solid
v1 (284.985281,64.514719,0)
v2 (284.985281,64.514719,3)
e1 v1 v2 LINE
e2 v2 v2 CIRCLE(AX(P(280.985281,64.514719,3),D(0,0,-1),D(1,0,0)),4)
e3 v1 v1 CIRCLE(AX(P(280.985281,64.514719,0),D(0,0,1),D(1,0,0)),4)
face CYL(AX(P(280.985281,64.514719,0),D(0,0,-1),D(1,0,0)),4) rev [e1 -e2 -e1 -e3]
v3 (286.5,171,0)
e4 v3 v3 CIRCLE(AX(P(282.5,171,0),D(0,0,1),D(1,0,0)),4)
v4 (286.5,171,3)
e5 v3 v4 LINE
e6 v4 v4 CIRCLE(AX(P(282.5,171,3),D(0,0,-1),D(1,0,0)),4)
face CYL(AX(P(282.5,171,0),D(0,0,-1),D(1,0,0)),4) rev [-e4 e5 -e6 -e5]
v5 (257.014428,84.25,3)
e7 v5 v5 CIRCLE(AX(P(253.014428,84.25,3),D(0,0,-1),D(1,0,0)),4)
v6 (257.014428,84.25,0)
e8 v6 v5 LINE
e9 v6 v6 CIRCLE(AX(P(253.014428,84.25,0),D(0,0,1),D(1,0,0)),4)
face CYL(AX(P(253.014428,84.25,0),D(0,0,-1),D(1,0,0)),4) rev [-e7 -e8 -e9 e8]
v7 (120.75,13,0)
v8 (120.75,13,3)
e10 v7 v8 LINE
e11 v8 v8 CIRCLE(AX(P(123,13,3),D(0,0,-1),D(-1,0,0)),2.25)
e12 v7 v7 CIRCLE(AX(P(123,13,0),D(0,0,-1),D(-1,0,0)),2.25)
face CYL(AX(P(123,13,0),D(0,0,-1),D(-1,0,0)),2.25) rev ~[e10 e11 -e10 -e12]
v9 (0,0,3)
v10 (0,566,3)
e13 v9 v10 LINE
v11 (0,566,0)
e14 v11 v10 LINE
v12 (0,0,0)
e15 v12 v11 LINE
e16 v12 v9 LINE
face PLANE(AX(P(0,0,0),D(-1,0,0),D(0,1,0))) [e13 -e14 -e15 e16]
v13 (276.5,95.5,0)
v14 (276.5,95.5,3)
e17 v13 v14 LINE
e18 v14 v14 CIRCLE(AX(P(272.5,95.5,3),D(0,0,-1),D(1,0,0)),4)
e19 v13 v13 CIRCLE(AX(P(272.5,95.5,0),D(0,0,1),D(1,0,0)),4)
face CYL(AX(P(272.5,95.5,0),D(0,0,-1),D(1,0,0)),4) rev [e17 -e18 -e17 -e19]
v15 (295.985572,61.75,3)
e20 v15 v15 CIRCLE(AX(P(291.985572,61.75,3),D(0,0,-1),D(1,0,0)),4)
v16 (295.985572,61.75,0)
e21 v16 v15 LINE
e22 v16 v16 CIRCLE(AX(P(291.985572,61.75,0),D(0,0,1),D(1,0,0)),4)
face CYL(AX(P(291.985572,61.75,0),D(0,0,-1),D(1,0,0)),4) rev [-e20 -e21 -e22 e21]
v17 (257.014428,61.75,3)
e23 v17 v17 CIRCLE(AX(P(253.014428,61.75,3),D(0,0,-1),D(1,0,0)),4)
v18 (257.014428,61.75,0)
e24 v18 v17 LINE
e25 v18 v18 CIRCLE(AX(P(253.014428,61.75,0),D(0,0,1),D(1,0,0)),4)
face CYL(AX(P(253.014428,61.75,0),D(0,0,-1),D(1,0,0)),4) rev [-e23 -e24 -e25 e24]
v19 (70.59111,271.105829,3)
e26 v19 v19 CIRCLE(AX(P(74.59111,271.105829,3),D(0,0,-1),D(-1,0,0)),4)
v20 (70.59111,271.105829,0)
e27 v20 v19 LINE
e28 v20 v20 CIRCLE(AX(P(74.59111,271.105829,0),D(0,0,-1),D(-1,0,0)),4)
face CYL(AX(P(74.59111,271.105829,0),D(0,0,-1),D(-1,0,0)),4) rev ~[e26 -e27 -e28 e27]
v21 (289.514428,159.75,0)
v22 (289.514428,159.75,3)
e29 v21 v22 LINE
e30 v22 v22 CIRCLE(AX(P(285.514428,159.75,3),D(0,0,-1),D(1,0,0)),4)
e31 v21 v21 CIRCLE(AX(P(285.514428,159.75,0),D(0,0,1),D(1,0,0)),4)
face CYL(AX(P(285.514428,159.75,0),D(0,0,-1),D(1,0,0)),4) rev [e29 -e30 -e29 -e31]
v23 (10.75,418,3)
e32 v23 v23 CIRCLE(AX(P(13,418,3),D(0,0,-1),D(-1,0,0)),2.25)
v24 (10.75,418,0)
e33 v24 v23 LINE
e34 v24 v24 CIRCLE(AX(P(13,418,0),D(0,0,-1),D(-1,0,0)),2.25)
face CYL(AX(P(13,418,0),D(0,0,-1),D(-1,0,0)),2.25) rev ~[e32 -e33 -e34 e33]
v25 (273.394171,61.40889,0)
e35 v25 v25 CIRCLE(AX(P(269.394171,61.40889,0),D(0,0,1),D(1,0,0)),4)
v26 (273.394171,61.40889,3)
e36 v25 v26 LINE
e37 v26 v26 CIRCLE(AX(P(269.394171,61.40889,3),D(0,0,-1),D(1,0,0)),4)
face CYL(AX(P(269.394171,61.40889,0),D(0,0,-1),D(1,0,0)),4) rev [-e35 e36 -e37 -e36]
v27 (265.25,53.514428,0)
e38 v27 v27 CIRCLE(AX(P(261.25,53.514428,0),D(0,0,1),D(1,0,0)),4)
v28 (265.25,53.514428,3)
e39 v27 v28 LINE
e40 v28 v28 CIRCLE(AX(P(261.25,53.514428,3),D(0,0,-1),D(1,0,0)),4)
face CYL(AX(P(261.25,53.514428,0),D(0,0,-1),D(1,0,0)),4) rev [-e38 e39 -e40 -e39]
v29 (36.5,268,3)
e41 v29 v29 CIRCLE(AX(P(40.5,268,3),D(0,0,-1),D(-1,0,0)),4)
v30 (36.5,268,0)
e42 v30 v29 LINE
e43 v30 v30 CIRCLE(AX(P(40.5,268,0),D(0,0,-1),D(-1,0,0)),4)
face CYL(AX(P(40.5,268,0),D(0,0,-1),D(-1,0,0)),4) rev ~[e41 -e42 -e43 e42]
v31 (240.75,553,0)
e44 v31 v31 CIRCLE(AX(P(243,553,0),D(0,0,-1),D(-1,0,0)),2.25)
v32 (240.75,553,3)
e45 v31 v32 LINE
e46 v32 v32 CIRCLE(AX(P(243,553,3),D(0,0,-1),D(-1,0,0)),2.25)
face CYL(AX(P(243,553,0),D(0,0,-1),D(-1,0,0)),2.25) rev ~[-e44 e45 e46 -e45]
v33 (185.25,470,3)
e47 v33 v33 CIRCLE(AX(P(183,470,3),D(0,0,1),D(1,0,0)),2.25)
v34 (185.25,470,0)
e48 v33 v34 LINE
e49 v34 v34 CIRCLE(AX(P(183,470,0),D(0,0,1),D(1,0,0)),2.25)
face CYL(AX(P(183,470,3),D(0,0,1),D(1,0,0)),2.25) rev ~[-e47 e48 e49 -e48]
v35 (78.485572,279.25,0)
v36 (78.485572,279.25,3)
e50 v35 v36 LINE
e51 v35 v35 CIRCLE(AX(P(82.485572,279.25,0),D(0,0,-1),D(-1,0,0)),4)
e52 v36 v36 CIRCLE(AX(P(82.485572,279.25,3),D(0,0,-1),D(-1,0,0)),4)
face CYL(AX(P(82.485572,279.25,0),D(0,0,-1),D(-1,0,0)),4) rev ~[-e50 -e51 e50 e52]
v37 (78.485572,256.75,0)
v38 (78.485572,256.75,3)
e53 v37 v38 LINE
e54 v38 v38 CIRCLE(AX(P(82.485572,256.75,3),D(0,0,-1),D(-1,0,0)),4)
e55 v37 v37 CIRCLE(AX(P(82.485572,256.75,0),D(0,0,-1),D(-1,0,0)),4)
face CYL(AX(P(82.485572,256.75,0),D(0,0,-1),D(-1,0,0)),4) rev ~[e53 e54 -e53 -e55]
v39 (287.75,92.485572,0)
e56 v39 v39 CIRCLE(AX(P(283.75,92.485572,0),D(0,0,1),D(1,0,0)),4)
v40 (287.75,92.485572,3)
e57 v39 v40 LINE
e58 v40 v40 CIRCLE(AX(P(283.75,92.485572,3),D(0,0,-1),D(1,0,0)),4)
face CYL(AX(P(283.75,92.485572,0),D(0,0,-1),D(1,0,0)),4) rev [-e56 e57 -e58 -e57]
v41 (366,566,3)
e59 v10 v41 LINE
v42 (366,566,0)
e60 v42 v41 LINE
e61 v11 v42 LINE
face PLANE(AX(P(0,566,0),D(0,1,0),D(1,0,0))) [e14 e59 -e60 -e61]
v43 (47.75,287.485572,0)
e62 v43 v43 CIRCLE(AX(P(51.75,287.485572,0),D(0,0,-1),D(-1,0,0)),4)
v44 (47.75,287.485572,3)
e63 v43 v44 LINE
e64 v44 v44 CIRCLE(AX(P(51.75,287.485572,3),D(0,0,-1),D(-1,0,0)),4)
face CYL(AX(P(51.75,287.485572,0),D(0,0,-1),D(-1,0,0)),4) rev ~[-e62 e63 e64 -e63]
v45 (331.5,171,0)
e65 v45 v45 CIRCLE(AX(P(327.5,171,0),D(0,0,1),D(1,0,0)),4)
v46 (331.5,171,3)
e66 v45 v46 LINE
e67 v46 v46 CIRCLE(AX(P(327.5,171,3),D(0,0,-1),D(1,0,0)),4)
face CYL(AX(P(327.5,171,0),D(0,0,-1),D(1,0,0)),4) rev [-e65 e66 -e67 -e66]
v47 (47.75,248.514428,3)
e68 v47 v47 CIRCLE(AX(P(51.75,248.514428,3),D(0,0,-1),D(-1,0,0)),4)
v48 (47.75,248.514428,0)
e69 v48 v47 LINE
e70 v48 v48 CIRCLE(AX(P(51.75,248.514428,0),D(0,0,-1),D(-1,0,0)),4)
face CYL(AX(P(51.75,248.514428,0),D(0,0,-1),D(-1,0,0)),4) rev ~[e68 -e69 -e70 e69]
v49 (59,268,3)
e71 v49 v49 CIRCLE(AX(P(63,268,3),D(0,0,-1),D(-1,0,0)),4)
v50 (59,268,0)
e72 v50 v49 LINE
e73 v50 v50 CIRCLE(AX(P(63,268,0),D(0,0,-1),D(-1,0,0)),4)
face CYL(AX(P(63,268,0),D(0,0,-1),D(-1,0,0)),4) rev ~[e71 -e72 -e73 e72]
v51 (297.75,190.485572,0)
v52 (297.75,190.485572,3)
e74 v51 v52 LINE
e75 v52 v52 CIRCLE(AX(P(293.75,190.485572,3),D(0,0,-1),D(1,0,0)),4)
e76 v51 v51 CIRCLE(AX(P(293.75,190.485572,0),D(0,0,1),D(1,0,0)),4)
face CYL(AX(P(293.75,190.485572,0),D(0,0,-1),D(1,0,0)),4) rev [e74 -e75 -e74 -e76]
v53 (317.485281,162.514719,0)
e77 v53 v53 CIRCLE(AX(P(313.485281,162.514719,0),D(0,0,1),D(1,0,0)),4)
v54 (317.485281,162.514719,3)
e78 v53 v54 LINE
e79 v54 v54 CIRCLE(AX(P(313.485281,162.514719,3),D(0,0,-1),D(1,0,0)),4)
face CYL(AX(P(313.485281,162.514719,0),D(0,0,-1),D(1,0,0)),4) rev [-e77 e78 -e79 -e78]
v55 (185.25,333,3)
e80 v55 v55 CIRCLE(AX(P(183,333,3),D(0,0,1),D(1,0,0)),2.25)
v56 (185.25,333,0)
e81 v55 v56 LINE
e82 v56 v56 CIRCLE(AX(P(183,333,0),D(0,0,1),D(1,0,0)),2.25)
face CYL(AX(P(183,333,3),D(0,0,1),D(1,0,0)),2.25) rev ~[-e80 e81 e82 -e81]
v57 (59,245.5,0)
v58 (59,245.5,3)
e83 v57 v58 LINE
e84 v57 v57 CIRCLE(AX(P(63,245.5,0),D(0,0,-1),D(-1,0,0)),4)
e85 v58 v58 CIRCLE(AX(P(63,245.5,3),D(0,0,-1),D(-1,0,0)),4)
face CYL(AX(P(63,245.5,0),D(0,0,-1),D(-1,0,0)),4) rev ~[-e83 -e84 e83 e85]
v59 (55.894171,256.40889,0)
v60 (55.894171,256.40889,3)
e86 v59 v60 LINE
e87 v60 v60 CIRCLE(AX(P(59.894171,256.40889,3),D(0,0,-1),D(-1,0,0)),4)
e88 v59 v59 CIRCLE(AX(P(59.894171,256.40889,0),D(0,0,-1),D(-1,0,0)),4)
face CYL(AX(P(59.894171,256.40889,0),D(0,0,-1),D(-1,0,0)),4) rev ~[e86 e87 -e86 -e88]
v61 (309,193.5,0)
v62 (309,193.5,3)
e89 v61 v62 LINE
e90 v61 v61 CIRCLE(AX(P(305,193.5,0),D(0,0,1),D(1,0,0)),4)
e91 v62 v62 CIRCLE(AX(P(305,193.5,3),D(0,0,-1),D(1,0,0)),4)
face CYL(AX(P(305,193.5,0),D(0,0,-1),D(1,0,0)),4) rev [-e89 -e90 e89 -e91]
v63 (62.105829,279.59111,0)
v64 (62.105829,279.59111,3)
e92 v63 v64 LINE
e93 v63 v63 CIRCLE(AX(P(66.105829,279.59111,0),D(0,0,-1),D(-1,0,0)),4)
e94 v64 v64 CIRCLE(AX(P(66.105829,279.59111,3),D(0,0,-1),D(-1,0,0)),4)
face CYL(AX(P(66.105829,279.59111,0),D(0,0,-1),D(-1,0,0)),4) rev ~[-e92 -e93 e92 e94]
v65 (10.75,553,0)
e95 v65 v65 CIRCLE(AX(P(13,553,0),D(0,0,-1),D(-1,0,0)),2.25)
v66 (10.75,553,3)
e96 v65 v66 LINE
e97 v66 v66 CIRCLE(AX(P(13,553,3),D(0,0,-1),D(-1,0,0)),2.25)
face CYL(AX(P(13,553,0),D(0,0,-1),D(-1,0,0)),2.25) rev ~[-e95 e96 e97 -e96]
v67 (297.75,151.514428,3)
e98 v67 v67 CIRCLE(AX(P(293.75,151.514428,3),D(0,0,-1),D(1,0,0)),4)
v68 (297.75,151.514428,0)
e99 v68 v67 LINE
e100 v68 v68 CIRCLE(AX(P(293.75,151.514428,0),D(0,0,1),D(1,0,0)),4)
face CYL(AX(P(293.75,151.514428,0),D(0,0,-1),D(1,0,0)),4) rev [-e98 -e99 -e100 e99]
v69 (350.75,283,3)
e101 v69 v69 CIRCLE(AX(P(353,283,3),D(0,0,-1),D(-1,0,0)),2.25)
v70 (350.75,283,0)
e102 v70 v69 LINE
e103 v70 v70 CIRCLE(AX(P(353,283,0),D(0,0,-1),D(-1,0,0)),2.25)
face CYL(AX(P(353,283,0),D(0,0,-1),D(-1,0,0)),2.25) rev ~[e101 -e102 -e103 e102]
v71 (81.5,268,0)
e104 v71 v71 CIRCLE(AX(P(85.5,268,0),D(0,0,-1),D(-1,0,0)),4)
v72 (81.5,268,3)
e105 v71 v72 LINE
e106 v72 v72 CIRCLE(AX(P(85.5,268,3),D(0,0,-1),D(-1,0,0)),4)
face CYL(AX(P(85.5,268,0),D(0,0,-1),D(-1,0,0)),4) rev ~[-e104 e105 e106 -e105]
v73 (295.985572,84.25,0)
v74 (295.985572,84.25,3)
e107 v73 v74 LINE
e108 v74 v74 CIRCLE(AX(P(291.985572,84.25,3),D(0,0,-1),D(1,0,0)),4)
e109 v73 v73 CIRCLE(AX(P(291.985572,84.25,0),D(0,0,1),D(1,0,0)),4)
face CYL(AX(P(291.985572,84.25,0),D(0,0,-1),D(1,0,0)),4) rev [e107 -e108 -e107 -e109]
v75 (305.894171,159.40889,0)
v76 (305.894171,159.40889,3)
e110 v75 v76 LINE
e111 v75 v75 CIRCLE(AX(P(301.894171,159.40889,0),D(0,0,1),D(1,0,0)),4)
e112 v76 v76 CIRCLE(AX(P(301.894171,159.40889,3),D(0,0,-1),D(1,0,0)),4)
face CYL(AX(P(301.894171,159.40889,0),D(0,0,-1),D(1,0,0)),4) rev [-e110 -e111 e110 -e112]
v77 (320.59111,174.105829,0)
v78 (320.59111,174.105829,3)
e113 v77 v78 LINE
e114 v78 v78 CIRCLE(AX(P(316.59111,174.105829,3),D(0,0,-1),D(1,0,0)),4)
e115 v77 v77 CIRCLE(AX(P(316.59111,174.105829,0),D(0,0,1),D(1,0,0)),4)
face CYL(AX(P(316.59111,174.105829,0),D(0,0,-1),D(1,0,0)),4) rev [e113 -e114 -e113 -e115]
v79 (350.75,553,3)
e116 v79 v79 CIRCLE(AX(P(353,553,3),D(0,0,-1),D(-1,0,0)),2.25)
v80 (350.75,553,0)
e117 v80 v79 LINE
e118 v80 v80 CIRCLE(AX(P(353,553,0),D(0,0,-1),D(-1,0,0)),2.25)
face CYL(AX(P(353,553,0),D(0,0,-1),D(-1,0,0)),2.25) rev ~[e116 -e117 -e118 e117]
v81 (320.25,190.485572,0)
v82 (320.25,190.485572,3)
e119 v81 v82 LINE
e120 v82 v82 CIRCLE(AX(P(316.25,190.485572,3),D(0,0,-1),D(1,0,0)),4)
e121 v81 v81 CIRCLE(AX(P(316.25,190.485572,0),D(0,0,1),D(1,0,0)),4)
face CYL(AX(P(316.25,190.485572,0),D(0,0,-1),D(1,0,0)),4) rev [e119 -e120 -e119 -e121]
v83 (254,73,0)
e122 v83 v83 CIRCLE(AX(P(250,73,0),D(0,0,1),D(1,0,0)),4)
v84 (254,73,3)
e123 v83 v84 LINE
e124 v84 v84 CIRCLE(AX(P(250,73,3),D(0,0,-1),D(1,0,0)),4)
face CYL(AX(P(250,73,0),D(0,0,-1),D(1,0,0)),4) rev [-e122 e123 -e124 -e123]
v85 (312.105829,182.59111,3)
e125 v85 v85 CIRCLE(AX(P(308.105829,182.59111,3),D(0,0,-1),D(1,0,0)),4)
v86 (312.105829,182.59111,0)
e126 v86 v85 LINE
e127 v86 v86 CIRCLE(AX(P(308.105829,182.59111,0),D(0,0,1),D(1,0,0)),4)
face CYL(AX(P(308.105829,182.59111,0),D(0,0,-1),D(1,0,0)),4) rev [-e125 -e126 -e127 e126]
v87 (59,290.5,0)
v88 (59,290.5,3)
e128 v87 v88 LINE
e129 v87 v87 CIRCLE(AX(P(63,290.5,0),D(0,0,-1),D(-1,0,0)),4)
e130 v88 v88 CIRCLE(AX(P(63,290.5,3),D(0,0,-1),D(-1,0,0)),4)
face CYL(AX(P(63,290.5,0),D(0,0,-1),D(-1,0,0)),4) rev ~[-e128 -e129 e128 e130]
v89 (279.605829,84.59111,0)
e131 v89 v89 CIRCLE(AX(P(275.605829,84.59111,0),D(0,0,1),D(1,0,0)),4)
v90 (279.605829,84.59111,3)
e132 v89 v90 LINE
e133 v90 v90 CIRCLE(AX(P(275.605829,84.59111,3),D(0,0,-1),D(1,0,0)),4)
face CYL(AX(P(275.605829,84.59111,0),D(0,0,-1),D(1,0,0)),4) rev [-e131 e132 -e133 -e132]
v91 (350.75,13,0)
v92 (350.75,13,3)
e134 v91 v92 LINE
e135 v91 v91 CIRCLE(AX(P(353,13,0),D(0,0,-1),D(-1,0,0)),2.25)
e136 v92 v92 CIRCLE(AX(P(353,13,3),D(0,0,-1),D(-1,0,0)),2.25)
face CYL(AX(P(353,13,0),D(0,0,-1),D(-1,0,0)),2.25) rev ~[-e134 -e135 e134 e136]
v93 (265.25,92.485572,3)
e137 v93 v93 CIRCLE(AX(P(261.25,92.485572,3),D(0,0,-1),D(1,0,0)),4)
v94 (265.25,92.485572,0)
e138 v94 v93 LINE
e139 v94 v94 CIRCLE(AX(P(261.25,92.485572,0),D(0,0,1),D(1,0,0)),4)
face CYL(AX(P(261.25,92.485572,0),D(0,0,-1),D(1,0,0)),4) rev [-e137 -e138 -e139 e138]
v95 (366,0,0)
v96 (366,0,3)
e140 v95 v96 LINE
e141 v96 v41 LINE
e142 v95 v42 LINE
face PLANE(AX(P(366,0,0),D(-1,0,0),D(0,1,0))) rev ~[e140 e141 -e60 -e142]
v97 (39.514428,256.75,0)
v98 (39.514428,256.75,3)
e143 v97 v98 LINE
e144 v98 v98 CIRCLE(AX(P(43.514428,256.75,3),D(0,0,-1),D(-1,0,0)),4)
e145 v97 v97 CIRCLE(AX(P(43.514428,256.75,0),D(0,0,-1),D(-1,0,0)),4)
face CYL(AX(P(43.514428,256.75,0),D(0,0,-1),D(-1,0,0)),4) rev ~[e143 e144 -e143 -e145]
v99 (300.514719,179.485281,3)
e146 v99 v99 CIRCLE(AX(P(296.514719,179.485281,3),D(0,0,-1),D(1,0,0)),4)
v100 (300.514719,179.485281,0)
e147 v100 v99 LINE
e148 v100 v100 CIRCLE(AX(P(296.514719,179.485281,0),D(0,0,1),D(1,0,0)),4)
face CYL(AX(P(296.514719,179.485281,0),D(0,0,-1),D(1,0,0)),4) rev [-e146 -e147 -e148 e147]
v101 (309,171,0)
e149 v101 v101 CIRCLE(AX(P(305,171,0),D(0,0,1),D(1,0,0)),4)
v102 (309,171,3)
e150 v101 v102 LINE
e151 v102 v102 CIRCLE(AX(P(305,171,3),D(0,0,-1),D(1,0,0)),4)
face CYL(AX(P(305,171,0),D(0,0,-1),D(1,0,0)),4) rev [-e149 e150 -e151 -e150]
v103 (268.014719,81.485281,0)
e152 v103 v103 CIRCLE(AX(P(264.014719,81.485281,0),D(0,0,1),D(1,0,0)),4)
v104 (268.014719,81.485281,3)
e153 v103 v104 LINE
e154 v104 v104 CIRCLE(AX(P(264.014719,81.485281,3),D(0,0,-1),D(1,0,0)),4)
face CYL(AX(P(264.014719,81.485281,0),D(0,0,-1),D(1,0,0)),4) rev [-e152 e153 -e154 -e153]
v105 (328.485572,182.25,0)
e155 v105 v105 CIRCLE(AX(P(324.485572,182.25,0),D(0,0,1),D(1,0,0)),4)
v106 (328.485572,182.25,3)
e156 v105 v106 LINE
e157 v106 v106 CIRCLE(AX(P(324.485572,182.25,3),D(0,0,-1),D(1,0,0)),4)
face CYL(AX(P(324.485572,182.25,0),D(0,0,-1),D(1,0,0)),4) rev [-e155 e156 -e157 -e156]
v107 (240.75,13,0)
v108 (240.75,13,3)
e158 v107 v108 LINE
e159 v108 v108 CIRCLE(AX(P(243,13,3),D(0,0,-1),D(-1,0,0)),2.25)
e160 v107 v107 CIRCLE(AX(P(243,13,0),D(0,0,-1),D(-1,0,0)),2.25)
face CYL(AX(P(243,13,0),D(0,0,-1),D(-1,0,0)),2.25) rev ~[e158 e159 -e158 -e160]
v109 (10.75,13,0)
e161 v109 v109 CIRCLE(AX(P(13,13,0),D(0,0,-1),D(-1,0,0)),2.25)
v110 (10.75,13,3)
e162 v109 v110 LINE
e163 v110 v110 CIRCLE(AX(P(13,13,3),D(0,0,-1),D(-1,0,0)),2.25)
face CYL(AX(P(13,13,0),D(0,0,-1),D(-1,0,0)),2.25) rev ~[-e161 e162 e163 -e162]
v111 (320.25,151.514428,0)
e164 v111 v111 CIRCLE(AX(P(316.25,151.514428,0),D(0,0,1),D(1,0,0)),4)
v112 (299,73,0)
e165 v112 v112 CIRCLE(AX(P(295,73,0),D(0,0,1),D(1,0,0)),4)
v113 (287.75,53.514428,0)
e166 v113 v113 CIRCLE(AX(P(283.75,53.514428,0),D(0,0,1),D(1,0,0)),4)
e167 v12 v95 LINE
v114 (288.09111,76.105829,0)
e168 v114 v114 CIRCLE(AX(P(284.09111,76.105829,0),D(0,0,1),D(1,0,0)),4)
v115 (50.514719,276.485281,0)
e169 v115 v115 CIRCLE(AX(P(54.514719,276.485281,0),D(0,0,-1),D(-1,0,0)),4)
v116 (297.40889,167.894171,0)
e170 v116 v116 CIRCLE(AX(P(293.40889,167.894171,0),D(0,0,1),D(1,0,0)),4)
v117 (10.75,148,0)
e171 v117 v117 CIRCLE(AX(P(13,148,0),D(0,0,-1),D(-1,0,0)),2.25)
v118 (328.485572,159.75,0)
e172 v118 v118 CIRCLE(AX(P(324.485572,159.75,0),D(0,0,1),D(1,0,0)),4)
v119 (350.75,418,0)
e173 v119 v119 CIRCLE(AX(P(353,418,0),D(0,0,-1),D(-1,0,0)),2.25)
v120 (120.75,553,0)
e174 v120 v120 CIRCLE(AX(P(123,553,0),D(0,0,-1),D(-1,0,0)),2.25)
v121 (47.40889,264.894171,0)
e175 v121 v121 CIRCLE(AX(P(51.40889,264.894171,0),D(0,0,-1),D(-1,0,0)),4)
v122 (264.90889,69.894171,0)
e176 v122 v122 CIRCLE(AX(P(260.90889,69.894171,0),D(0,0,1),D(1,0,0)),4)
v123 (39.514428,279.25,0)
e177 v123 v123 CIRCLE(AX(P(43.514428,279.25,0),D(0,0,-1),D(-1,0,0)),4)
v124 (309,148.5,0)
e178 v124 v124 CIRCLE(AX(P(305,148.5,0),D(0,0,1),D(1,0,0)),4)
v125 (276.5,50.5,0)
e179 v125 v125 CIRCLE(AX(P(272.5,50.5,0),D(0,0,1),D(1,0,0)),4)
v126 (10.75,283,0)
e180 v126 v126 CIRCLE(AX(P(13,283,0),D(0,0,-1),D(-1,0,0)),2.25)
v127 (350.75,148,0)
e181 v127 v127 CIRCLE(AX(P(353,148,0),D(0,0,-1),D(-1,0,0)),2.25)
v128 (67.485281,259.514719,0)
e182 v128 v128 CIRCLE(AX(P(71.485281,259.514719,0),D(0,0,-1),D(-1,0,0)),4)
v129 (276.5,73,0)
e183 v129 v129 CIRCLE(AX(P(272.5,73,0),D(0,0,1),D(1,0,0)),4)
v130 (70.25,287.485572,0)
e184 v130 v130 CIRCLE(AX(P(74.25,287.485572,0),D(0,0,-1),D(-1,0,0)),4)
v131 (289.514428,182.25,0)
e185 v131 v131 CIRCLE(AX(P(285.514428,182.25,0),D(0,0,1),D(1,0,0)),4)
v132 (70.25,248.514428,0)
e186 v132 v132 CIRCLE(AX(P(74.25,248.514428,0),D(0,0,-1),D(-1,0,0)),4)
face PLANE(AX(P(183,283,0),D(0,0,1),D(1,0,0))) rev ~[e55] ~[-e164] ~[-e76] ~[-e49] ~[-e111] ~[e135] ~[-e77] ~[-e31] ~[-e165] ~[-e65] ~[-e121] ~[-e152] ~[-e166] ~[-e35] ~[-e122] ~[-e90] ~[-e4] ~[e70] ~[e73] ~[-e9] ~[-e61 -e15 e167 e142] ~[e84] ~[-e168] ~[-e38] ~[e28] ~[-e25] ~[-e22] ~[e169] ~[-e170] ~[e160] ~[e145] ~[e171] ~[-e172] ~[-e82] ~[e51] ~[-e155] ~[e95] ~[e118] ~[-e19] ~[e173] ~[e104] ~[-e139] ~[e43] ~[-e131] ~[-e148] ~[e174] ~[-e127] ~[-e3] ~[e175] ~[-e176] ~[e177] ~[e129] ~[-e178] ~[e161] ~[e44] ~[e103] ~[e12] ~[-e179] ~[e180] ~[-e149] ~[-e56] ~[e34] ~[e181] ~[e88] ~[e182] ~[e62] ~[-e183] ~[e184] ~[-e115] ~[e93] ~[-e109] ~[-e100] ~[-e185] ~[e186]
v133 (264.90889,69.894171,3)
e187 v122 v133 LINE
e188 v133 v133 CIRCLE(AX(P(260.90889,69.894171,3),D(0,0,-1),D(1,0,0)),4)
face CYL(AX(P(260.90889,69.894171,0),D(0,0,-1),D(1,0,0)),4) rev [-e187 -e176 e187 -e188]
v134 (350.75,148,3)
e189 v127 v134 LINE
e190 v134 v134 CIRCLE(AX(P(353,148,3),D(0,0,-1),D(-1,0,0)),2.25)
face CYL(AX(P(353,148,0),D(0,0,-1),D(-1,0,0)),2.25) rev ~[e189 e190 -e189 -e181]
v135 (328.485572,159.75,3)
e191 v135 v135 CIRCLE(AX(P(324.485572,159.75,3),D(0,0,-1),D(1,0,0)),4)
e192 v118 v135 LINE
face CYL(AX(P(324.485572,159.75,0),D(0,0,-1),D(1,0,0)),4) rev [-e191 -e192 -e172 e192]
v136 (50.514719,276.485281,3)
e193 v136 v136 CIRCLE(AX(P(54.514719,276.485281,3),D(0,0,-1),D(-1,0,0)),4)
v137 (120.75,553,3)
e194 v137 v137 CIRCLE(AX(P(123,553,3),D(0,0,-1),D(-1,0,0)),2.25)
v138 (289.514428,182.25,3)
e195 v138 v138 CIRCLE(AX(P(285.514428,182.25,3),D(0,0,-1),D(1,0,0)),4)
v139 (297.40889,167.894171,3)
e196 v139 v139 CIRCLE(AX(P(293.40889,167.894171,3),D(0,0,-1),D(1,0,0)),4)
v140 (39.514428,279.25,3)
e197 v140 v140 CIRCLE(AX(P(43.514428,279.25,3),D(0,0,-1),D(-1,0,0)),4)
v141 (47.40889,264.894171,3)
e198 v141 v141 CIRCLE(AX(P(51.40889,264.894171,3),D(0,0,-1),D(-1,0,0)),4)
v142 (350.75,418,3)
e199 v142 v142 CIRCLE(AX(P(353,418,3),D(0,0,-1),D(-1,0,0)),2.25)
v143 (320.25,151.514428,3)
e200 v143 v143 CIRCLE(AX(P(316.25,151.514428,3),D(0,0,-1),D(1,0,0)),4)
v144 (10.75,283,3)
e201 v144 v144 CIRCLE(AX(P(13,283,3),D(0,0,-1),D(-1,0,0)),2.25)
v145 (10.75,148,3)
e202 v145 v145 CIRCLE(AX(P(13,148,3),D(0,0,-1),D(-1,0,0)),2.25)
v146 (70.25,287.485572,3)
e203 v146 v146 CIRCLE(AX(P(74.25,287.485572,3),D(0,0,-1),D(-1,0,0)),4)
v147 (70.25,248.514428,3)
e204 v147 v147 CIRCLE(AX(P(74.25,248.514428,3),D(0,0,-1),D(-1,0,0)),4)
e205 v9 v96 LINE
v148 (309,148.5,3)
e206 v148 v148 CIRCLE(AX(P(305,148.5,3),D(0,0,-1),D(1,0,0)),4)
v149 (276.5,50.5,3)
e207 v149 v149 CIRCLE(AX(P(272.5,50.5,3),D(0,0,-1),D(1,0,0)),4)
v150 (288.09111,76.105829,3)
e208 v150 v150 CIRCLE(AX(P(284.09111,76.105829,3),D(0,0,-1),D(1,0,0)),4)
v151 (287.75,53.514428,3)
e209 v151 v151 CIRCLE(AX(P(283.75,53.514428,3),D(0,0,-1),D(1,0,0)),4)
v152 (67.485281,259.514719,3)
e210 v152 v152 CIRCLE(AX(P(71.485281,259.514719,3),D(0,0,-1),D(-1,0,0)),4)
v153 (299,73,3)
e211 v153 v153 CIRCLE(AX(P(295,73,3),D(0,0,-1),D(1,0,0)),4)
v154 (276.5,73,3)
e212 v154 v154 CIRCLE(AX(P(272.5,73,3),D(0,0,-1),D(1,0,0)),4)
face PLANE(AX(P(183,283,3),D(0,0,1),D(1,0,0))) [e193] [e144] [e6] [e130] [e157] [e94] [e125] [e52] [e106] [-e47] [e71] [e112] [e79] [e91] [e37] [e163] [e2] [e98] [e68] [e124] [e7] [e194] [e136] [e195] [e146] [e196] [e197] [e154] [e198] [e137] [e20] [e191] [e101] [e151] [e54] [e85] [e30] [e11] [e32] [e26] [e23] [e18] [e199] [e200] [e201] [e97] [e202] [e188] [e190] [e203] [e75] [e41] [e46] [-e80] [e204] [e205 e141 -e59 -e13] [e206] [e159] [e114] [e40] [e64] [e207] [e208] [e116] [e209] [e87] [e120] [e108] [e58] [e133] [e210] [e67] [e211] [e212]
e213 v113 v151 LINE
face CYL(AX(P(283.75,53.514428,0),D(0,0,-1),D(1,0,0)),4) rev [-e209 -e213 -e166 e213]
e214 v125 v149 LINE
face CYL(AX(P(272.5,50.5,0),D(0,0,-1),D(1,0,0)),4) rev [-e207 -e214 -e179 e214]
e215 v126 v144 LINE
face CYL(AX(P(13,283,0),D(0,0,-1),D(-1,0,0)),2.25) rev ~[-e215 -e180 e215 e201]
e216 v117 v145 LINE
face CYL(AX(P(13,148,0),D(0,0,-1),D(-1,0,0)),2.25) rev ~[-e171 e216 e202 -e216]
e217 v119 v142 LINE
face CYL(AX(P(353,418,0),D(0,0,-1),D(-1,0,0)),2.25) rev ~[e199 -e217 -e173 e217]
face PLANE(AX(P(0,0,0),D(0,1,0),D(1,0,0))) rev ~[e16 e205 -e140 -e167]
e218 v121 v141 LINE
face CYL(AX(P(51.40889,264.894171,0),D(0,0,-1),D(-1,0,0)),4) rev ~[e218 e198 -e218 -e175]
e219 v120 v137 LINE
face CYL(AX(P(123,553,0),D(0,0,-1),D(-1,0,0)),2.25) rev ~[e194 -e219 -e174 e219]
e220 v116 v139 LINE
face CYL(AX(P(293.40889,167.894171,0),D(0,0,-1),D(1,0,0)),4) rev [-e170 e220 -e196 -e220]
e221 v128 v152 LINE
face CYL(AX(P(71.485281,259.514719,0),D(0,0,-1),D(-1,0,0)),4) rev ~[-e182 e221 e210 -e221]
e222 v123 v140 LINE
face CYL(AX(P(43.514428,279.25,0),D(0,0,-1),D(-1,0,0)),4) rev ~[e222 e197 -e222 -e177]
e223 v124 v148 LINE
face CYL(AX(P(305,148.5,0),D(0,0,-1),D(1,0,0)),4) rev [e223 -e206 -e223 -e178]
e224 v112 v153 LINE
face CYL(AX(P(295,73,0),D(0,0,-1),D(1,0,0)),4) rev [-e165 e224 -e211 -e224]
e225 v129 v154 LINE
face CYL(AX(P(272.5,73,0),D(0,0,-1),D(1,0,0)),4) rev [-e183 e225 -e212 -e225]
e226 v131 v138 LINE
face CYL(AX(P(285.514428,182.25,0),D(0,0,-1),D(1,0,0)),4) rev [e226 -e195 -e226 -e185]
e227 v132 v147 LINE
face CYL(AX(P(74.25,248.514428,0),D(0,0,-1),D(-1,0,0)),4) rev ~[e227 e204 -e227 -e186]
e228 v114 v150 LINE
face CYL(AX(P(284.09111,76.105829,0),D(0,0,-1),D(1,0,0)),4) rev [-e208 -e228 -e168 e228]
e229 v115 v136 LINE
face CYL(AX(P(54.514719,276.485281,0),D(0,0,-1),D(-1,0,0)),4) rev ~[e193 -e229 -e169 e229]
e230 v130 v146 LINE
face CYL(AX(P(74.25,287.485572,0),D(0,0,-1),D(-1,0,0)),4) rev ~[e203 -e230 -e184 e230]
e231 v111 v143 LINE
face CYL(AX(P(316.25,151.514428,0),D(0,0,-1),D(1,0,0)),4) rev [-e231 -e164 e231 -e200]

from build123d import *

# Parameters (mm, degrees)
SKETCH_1_W               = 366
SKETCH_1_H               = 566
EXTRUDE_1_DEPTH          = 3
SKETCH_5_R               = 2.25
CUT_EXTRUDE_2_DEPTH      = 4
SKETCH_8_R               = 4
CUT_EXTRUDE_5_DEPTH      = 4
CUT_EXTRUDE_5_DEPTH_BACK = 10
SKETCH_10_R              = 2.25
CUT_EXTRUDE_6_DEPTH      = 4
SKETCH_11_R              = 4
CUT_EXTRUDE_7_DEPTH      = 4


with BuildPart() as part:
    # Эскиз1 → Бобышка-Вытянуть1 (new body)
    with BuildSketch(Plane.XY):
        with Locations((183, 283)):
            Rectangle(SKETCH_1_W, SKETCH_1_H)
    extrude(amount=EXTRUDE_1_DEPTH)

    # Эскиз5 → Вырез-Вытянуть2 (cut, through all)
    with BuildSketch(Plane(origin=(0, 0, 0), x_dir=(-1, 0, 0), z_dir=(0, 0, -1))):
        with Locations((-353, 553)):
            Circle(SKETCH_5_R)
        with Locations((-13, 553)):
            Circle(SKETCH_5_R)
        with Locations((-243, 553)):
            Circle(SKETCH_5_R)
        with Locations((-123, 553)):
            Circle(SKETCH_5_R)
        with Locations((-353, 418)):
            Circle(SKETCH_5_R)
        with Locations((-353, 283)):
            Circle(SKETCH_5_R)
        with Locations((-353, 148)):
            Circle(SKETCH_5_R)
        with Locations((-353, 13)):
            Circle(SKETCH_5_R)
        with Locations((-123, 13)):
            Circle(SKETCH_5_R)
        with Locations((-243, 13)):
            Circle(SKETCH_5_R)
        with Locations((-13, 418)):
            Circle(SKETCH_5_R)
        with Locations((-13, 283)):
            Circle(SKETCH_5_R)
        with Locations((-13, 148)):
            Circle(SKETCH_5_R)
        with Locations((-13, 13)):
            Circle(SKETCH_5_R)
    extrude(amount=-CUT_EXTRUDE_2_DEPTH, mode=Mode.SUBTRACT)

    # Эскиз8 → Вырез-Вытянуть5 (cut, two sides)
    with BuildSketch(Plane.XY) as cut_extrude_5_sk:
        with Locations((305, 148.5)):
            Circle(SKETCH_8_R)
        with Locations((313.485281374, 162.514718626)):
            Circle(SKETCH_8_R)
        with Locations((305, 171)):
            Circle(SKETCH_8_R)
        with Locations((293.75, 151.514428415)):
            Circle(SKETCH_8_R)
        with Locations((285.514428415, 159.75)):
            Circle(SKETCH_8_R)
        with Locations((282.5, 171)):
            Circle(SKETCH_8_R)
        with Locations((285.514428415, 182.25)):
            Circle(SKETCH_8_R)
        with Locations((293.75, 190.485571585)):
            Circle(SKETCH_8_R)
        with Locations((305, 193.5)):
            Circle(SKETCH_8_R)
        with Locations((316.25, 190.485571585)):
            Circle(SKETCH_8_R)
        with Locations((324.485571585, 182.25)):
            Circle(SKETCH_8_R)
        with Locations((327.5, 171)):
            Circle(SKETCH_8_R)
        with Locations((324.485571585, 159.75)):
            Circle(SKETCH_8_R)
        with Locations((316.25, 151.514428415)):
            Circle(SKETCH_8_R)
        with Locations((301.894171459, 159.408890085)):
            Circle(SKETCH_8_R)
        with Locations((293.408890085, 167.894171459)):
            Circle(SKETCH_8_R)
        with Locations((296.514718626, 179.485281374)):
            Circle(SKETCH_8_R)
        with Locations((308.105828541, 182.591109915)):
            Circle(SKETCH_8_R)
        with Locations((316.591109915, 174.105828541)):
            Circle(SKETCH_8_R)
        with Locations((272.5, 73)):
            Circle(SKETCH_8_R)
        with Locations((272.5, 50.5)):
            Circle(SKETCH_8_R)
        with Locations((280.985281374, 64.514718626)):
            Circle(SKETCH_8_R)
        with Locations((261.25, 53.514428415)):
            Circle(SKETCH_8_R)
        with Locations((253.014428415, 61.75)):
            Circle(SKETCH_8_R)
        with Locations((250, 73)):
            Circle(SKETCH_8_R)
        with Locations((253.014428415, 84.25)):
            Circle(SKETCH_8_R)
        with Locations((261.25, 92.485571585)):
            Circle(SKETCH_8_R)
        with Locations((272.5, 95.5)):
            Circle(SKETCH_8_R)
        with Locations((283.75, 92.485571585)):
            Circle(SKETCH_8_R)
        with Locations((291.985571585, 84.25)):
            Circle(SKETCH_8_R)
        with Locations((295, 73)):
            Circle(SKETCH_8_R)
        with Locations((291.985571585, 61.75)):
            Circle(SKETCH_8_R)
        with Locations((283.75, 53.514428415)):
            Circle(SKETCH_8_R)
        with Locations((269.394171459, 61.408890085)):
            Circle(SKETCH_8_R)
        with Locations((260.908890085, 69.894171459)):
            Circle(SKETCH_8_R)
        with Locations((264.014718626, 81.485281374)):
            Circle(SKETCH_8_R)
        with Locations((275.605828541, 84.591109915)):
            Circle(SKETCH_8_R)
        with Locations((284.091109915, 76.105828541)):
            Circle(SKETCH_8_R)
    extrude(amount=CUT_EXTRUDE_5_DEPTH, mode=Mode.SUBTRACT)
    extrude(cut_extrude_5_sk.sketch, amount=-CUT_EXTRUDE_5_DEPTH_BACK, mode=Mode.SUBTRACT)

    # Эскиз10 → Вырез-Вытянуть6 (cut, through all)
    with BuildSketch(Plane.XY.offset(3)):
        with Locations((183, 470)):
            Circle(SKETCH_10_R)
        with Locations((183, 333)):
            Circle(SKETCH_10_R)
    extrude(amount=-CUT_EXTRUDE_6_DEPTH, mode=Mode.SUBTRACT)

    # Эскиз11 → Вырез-Вытянуть7 (cut, through all)
    with BuildSketch(Plane(origin=(0, 0, 0), x_dir=(-1, 0, 0), z_dir=(0, 0, -1))):
        with Locations((-63, 268)):
            Circle(SKETCH_11_R)
        with Locations((-63, 245.5)):
            Circle(SKETCH_11_R)
        with Locations((-71.485281374, 259.514718626)):
            Circle(SKETCH_11_R)
        with Locations((-74.25, 248.514428415)):
            Circle(SKETCH_11_R)
        with Locations((-82.485571585, 256.75)):
            Circle(SKETCH_11_R)
        with Locations((-85.5, 268)):
            Circle(SKETCH_11_R)
        with Locations((-82.485571585, 279.25)):
            Circle(SKETCH_11_R)
        with Locations((-74.25, 287.485571585)):
            Circle(SKETCH_11_R)
        with Locations((-63, 290.5)):
            Circle(SKETCH_11_R)
        with Locations((-51.75, 287.485571585)):
            Circle(SKETCH_11_R)
        with Locations((-43.514428415, 279.25)):
            Circle(SKETCH_11_R)
        with Locations((-40.5, 268)):
            Circle(SKETCH_11_R)
        with Locations((-43.514428415, 256.75)):
            Circle(SKETCH_11_R)
        with Locations((-51.75, 248.514428415)):
            Circle(SKETCH_11_R)
        with Locations((-74.591109915, 271.105828541)):
            Circle(SKETCH_11_R)
        with Locations((-66.105828541, 279.591109915)):
            Circle(SKETCH_11_R)
        with Locations((-54.514718626, 276.485281374)):
            Circle(SKETCH_11_R)
        with Locations((-51.408890085, 264.894171459)):
            Circle(SKETCH_11_R)
        with Locations((-59.894171459, 256.408890085)):
            Circle(SKETCH_11_R)
    extrude(amount=-CUT_EXTRUDE_7_DEPTH, mode=Mode.SUBTRACT)


solid = part.part
